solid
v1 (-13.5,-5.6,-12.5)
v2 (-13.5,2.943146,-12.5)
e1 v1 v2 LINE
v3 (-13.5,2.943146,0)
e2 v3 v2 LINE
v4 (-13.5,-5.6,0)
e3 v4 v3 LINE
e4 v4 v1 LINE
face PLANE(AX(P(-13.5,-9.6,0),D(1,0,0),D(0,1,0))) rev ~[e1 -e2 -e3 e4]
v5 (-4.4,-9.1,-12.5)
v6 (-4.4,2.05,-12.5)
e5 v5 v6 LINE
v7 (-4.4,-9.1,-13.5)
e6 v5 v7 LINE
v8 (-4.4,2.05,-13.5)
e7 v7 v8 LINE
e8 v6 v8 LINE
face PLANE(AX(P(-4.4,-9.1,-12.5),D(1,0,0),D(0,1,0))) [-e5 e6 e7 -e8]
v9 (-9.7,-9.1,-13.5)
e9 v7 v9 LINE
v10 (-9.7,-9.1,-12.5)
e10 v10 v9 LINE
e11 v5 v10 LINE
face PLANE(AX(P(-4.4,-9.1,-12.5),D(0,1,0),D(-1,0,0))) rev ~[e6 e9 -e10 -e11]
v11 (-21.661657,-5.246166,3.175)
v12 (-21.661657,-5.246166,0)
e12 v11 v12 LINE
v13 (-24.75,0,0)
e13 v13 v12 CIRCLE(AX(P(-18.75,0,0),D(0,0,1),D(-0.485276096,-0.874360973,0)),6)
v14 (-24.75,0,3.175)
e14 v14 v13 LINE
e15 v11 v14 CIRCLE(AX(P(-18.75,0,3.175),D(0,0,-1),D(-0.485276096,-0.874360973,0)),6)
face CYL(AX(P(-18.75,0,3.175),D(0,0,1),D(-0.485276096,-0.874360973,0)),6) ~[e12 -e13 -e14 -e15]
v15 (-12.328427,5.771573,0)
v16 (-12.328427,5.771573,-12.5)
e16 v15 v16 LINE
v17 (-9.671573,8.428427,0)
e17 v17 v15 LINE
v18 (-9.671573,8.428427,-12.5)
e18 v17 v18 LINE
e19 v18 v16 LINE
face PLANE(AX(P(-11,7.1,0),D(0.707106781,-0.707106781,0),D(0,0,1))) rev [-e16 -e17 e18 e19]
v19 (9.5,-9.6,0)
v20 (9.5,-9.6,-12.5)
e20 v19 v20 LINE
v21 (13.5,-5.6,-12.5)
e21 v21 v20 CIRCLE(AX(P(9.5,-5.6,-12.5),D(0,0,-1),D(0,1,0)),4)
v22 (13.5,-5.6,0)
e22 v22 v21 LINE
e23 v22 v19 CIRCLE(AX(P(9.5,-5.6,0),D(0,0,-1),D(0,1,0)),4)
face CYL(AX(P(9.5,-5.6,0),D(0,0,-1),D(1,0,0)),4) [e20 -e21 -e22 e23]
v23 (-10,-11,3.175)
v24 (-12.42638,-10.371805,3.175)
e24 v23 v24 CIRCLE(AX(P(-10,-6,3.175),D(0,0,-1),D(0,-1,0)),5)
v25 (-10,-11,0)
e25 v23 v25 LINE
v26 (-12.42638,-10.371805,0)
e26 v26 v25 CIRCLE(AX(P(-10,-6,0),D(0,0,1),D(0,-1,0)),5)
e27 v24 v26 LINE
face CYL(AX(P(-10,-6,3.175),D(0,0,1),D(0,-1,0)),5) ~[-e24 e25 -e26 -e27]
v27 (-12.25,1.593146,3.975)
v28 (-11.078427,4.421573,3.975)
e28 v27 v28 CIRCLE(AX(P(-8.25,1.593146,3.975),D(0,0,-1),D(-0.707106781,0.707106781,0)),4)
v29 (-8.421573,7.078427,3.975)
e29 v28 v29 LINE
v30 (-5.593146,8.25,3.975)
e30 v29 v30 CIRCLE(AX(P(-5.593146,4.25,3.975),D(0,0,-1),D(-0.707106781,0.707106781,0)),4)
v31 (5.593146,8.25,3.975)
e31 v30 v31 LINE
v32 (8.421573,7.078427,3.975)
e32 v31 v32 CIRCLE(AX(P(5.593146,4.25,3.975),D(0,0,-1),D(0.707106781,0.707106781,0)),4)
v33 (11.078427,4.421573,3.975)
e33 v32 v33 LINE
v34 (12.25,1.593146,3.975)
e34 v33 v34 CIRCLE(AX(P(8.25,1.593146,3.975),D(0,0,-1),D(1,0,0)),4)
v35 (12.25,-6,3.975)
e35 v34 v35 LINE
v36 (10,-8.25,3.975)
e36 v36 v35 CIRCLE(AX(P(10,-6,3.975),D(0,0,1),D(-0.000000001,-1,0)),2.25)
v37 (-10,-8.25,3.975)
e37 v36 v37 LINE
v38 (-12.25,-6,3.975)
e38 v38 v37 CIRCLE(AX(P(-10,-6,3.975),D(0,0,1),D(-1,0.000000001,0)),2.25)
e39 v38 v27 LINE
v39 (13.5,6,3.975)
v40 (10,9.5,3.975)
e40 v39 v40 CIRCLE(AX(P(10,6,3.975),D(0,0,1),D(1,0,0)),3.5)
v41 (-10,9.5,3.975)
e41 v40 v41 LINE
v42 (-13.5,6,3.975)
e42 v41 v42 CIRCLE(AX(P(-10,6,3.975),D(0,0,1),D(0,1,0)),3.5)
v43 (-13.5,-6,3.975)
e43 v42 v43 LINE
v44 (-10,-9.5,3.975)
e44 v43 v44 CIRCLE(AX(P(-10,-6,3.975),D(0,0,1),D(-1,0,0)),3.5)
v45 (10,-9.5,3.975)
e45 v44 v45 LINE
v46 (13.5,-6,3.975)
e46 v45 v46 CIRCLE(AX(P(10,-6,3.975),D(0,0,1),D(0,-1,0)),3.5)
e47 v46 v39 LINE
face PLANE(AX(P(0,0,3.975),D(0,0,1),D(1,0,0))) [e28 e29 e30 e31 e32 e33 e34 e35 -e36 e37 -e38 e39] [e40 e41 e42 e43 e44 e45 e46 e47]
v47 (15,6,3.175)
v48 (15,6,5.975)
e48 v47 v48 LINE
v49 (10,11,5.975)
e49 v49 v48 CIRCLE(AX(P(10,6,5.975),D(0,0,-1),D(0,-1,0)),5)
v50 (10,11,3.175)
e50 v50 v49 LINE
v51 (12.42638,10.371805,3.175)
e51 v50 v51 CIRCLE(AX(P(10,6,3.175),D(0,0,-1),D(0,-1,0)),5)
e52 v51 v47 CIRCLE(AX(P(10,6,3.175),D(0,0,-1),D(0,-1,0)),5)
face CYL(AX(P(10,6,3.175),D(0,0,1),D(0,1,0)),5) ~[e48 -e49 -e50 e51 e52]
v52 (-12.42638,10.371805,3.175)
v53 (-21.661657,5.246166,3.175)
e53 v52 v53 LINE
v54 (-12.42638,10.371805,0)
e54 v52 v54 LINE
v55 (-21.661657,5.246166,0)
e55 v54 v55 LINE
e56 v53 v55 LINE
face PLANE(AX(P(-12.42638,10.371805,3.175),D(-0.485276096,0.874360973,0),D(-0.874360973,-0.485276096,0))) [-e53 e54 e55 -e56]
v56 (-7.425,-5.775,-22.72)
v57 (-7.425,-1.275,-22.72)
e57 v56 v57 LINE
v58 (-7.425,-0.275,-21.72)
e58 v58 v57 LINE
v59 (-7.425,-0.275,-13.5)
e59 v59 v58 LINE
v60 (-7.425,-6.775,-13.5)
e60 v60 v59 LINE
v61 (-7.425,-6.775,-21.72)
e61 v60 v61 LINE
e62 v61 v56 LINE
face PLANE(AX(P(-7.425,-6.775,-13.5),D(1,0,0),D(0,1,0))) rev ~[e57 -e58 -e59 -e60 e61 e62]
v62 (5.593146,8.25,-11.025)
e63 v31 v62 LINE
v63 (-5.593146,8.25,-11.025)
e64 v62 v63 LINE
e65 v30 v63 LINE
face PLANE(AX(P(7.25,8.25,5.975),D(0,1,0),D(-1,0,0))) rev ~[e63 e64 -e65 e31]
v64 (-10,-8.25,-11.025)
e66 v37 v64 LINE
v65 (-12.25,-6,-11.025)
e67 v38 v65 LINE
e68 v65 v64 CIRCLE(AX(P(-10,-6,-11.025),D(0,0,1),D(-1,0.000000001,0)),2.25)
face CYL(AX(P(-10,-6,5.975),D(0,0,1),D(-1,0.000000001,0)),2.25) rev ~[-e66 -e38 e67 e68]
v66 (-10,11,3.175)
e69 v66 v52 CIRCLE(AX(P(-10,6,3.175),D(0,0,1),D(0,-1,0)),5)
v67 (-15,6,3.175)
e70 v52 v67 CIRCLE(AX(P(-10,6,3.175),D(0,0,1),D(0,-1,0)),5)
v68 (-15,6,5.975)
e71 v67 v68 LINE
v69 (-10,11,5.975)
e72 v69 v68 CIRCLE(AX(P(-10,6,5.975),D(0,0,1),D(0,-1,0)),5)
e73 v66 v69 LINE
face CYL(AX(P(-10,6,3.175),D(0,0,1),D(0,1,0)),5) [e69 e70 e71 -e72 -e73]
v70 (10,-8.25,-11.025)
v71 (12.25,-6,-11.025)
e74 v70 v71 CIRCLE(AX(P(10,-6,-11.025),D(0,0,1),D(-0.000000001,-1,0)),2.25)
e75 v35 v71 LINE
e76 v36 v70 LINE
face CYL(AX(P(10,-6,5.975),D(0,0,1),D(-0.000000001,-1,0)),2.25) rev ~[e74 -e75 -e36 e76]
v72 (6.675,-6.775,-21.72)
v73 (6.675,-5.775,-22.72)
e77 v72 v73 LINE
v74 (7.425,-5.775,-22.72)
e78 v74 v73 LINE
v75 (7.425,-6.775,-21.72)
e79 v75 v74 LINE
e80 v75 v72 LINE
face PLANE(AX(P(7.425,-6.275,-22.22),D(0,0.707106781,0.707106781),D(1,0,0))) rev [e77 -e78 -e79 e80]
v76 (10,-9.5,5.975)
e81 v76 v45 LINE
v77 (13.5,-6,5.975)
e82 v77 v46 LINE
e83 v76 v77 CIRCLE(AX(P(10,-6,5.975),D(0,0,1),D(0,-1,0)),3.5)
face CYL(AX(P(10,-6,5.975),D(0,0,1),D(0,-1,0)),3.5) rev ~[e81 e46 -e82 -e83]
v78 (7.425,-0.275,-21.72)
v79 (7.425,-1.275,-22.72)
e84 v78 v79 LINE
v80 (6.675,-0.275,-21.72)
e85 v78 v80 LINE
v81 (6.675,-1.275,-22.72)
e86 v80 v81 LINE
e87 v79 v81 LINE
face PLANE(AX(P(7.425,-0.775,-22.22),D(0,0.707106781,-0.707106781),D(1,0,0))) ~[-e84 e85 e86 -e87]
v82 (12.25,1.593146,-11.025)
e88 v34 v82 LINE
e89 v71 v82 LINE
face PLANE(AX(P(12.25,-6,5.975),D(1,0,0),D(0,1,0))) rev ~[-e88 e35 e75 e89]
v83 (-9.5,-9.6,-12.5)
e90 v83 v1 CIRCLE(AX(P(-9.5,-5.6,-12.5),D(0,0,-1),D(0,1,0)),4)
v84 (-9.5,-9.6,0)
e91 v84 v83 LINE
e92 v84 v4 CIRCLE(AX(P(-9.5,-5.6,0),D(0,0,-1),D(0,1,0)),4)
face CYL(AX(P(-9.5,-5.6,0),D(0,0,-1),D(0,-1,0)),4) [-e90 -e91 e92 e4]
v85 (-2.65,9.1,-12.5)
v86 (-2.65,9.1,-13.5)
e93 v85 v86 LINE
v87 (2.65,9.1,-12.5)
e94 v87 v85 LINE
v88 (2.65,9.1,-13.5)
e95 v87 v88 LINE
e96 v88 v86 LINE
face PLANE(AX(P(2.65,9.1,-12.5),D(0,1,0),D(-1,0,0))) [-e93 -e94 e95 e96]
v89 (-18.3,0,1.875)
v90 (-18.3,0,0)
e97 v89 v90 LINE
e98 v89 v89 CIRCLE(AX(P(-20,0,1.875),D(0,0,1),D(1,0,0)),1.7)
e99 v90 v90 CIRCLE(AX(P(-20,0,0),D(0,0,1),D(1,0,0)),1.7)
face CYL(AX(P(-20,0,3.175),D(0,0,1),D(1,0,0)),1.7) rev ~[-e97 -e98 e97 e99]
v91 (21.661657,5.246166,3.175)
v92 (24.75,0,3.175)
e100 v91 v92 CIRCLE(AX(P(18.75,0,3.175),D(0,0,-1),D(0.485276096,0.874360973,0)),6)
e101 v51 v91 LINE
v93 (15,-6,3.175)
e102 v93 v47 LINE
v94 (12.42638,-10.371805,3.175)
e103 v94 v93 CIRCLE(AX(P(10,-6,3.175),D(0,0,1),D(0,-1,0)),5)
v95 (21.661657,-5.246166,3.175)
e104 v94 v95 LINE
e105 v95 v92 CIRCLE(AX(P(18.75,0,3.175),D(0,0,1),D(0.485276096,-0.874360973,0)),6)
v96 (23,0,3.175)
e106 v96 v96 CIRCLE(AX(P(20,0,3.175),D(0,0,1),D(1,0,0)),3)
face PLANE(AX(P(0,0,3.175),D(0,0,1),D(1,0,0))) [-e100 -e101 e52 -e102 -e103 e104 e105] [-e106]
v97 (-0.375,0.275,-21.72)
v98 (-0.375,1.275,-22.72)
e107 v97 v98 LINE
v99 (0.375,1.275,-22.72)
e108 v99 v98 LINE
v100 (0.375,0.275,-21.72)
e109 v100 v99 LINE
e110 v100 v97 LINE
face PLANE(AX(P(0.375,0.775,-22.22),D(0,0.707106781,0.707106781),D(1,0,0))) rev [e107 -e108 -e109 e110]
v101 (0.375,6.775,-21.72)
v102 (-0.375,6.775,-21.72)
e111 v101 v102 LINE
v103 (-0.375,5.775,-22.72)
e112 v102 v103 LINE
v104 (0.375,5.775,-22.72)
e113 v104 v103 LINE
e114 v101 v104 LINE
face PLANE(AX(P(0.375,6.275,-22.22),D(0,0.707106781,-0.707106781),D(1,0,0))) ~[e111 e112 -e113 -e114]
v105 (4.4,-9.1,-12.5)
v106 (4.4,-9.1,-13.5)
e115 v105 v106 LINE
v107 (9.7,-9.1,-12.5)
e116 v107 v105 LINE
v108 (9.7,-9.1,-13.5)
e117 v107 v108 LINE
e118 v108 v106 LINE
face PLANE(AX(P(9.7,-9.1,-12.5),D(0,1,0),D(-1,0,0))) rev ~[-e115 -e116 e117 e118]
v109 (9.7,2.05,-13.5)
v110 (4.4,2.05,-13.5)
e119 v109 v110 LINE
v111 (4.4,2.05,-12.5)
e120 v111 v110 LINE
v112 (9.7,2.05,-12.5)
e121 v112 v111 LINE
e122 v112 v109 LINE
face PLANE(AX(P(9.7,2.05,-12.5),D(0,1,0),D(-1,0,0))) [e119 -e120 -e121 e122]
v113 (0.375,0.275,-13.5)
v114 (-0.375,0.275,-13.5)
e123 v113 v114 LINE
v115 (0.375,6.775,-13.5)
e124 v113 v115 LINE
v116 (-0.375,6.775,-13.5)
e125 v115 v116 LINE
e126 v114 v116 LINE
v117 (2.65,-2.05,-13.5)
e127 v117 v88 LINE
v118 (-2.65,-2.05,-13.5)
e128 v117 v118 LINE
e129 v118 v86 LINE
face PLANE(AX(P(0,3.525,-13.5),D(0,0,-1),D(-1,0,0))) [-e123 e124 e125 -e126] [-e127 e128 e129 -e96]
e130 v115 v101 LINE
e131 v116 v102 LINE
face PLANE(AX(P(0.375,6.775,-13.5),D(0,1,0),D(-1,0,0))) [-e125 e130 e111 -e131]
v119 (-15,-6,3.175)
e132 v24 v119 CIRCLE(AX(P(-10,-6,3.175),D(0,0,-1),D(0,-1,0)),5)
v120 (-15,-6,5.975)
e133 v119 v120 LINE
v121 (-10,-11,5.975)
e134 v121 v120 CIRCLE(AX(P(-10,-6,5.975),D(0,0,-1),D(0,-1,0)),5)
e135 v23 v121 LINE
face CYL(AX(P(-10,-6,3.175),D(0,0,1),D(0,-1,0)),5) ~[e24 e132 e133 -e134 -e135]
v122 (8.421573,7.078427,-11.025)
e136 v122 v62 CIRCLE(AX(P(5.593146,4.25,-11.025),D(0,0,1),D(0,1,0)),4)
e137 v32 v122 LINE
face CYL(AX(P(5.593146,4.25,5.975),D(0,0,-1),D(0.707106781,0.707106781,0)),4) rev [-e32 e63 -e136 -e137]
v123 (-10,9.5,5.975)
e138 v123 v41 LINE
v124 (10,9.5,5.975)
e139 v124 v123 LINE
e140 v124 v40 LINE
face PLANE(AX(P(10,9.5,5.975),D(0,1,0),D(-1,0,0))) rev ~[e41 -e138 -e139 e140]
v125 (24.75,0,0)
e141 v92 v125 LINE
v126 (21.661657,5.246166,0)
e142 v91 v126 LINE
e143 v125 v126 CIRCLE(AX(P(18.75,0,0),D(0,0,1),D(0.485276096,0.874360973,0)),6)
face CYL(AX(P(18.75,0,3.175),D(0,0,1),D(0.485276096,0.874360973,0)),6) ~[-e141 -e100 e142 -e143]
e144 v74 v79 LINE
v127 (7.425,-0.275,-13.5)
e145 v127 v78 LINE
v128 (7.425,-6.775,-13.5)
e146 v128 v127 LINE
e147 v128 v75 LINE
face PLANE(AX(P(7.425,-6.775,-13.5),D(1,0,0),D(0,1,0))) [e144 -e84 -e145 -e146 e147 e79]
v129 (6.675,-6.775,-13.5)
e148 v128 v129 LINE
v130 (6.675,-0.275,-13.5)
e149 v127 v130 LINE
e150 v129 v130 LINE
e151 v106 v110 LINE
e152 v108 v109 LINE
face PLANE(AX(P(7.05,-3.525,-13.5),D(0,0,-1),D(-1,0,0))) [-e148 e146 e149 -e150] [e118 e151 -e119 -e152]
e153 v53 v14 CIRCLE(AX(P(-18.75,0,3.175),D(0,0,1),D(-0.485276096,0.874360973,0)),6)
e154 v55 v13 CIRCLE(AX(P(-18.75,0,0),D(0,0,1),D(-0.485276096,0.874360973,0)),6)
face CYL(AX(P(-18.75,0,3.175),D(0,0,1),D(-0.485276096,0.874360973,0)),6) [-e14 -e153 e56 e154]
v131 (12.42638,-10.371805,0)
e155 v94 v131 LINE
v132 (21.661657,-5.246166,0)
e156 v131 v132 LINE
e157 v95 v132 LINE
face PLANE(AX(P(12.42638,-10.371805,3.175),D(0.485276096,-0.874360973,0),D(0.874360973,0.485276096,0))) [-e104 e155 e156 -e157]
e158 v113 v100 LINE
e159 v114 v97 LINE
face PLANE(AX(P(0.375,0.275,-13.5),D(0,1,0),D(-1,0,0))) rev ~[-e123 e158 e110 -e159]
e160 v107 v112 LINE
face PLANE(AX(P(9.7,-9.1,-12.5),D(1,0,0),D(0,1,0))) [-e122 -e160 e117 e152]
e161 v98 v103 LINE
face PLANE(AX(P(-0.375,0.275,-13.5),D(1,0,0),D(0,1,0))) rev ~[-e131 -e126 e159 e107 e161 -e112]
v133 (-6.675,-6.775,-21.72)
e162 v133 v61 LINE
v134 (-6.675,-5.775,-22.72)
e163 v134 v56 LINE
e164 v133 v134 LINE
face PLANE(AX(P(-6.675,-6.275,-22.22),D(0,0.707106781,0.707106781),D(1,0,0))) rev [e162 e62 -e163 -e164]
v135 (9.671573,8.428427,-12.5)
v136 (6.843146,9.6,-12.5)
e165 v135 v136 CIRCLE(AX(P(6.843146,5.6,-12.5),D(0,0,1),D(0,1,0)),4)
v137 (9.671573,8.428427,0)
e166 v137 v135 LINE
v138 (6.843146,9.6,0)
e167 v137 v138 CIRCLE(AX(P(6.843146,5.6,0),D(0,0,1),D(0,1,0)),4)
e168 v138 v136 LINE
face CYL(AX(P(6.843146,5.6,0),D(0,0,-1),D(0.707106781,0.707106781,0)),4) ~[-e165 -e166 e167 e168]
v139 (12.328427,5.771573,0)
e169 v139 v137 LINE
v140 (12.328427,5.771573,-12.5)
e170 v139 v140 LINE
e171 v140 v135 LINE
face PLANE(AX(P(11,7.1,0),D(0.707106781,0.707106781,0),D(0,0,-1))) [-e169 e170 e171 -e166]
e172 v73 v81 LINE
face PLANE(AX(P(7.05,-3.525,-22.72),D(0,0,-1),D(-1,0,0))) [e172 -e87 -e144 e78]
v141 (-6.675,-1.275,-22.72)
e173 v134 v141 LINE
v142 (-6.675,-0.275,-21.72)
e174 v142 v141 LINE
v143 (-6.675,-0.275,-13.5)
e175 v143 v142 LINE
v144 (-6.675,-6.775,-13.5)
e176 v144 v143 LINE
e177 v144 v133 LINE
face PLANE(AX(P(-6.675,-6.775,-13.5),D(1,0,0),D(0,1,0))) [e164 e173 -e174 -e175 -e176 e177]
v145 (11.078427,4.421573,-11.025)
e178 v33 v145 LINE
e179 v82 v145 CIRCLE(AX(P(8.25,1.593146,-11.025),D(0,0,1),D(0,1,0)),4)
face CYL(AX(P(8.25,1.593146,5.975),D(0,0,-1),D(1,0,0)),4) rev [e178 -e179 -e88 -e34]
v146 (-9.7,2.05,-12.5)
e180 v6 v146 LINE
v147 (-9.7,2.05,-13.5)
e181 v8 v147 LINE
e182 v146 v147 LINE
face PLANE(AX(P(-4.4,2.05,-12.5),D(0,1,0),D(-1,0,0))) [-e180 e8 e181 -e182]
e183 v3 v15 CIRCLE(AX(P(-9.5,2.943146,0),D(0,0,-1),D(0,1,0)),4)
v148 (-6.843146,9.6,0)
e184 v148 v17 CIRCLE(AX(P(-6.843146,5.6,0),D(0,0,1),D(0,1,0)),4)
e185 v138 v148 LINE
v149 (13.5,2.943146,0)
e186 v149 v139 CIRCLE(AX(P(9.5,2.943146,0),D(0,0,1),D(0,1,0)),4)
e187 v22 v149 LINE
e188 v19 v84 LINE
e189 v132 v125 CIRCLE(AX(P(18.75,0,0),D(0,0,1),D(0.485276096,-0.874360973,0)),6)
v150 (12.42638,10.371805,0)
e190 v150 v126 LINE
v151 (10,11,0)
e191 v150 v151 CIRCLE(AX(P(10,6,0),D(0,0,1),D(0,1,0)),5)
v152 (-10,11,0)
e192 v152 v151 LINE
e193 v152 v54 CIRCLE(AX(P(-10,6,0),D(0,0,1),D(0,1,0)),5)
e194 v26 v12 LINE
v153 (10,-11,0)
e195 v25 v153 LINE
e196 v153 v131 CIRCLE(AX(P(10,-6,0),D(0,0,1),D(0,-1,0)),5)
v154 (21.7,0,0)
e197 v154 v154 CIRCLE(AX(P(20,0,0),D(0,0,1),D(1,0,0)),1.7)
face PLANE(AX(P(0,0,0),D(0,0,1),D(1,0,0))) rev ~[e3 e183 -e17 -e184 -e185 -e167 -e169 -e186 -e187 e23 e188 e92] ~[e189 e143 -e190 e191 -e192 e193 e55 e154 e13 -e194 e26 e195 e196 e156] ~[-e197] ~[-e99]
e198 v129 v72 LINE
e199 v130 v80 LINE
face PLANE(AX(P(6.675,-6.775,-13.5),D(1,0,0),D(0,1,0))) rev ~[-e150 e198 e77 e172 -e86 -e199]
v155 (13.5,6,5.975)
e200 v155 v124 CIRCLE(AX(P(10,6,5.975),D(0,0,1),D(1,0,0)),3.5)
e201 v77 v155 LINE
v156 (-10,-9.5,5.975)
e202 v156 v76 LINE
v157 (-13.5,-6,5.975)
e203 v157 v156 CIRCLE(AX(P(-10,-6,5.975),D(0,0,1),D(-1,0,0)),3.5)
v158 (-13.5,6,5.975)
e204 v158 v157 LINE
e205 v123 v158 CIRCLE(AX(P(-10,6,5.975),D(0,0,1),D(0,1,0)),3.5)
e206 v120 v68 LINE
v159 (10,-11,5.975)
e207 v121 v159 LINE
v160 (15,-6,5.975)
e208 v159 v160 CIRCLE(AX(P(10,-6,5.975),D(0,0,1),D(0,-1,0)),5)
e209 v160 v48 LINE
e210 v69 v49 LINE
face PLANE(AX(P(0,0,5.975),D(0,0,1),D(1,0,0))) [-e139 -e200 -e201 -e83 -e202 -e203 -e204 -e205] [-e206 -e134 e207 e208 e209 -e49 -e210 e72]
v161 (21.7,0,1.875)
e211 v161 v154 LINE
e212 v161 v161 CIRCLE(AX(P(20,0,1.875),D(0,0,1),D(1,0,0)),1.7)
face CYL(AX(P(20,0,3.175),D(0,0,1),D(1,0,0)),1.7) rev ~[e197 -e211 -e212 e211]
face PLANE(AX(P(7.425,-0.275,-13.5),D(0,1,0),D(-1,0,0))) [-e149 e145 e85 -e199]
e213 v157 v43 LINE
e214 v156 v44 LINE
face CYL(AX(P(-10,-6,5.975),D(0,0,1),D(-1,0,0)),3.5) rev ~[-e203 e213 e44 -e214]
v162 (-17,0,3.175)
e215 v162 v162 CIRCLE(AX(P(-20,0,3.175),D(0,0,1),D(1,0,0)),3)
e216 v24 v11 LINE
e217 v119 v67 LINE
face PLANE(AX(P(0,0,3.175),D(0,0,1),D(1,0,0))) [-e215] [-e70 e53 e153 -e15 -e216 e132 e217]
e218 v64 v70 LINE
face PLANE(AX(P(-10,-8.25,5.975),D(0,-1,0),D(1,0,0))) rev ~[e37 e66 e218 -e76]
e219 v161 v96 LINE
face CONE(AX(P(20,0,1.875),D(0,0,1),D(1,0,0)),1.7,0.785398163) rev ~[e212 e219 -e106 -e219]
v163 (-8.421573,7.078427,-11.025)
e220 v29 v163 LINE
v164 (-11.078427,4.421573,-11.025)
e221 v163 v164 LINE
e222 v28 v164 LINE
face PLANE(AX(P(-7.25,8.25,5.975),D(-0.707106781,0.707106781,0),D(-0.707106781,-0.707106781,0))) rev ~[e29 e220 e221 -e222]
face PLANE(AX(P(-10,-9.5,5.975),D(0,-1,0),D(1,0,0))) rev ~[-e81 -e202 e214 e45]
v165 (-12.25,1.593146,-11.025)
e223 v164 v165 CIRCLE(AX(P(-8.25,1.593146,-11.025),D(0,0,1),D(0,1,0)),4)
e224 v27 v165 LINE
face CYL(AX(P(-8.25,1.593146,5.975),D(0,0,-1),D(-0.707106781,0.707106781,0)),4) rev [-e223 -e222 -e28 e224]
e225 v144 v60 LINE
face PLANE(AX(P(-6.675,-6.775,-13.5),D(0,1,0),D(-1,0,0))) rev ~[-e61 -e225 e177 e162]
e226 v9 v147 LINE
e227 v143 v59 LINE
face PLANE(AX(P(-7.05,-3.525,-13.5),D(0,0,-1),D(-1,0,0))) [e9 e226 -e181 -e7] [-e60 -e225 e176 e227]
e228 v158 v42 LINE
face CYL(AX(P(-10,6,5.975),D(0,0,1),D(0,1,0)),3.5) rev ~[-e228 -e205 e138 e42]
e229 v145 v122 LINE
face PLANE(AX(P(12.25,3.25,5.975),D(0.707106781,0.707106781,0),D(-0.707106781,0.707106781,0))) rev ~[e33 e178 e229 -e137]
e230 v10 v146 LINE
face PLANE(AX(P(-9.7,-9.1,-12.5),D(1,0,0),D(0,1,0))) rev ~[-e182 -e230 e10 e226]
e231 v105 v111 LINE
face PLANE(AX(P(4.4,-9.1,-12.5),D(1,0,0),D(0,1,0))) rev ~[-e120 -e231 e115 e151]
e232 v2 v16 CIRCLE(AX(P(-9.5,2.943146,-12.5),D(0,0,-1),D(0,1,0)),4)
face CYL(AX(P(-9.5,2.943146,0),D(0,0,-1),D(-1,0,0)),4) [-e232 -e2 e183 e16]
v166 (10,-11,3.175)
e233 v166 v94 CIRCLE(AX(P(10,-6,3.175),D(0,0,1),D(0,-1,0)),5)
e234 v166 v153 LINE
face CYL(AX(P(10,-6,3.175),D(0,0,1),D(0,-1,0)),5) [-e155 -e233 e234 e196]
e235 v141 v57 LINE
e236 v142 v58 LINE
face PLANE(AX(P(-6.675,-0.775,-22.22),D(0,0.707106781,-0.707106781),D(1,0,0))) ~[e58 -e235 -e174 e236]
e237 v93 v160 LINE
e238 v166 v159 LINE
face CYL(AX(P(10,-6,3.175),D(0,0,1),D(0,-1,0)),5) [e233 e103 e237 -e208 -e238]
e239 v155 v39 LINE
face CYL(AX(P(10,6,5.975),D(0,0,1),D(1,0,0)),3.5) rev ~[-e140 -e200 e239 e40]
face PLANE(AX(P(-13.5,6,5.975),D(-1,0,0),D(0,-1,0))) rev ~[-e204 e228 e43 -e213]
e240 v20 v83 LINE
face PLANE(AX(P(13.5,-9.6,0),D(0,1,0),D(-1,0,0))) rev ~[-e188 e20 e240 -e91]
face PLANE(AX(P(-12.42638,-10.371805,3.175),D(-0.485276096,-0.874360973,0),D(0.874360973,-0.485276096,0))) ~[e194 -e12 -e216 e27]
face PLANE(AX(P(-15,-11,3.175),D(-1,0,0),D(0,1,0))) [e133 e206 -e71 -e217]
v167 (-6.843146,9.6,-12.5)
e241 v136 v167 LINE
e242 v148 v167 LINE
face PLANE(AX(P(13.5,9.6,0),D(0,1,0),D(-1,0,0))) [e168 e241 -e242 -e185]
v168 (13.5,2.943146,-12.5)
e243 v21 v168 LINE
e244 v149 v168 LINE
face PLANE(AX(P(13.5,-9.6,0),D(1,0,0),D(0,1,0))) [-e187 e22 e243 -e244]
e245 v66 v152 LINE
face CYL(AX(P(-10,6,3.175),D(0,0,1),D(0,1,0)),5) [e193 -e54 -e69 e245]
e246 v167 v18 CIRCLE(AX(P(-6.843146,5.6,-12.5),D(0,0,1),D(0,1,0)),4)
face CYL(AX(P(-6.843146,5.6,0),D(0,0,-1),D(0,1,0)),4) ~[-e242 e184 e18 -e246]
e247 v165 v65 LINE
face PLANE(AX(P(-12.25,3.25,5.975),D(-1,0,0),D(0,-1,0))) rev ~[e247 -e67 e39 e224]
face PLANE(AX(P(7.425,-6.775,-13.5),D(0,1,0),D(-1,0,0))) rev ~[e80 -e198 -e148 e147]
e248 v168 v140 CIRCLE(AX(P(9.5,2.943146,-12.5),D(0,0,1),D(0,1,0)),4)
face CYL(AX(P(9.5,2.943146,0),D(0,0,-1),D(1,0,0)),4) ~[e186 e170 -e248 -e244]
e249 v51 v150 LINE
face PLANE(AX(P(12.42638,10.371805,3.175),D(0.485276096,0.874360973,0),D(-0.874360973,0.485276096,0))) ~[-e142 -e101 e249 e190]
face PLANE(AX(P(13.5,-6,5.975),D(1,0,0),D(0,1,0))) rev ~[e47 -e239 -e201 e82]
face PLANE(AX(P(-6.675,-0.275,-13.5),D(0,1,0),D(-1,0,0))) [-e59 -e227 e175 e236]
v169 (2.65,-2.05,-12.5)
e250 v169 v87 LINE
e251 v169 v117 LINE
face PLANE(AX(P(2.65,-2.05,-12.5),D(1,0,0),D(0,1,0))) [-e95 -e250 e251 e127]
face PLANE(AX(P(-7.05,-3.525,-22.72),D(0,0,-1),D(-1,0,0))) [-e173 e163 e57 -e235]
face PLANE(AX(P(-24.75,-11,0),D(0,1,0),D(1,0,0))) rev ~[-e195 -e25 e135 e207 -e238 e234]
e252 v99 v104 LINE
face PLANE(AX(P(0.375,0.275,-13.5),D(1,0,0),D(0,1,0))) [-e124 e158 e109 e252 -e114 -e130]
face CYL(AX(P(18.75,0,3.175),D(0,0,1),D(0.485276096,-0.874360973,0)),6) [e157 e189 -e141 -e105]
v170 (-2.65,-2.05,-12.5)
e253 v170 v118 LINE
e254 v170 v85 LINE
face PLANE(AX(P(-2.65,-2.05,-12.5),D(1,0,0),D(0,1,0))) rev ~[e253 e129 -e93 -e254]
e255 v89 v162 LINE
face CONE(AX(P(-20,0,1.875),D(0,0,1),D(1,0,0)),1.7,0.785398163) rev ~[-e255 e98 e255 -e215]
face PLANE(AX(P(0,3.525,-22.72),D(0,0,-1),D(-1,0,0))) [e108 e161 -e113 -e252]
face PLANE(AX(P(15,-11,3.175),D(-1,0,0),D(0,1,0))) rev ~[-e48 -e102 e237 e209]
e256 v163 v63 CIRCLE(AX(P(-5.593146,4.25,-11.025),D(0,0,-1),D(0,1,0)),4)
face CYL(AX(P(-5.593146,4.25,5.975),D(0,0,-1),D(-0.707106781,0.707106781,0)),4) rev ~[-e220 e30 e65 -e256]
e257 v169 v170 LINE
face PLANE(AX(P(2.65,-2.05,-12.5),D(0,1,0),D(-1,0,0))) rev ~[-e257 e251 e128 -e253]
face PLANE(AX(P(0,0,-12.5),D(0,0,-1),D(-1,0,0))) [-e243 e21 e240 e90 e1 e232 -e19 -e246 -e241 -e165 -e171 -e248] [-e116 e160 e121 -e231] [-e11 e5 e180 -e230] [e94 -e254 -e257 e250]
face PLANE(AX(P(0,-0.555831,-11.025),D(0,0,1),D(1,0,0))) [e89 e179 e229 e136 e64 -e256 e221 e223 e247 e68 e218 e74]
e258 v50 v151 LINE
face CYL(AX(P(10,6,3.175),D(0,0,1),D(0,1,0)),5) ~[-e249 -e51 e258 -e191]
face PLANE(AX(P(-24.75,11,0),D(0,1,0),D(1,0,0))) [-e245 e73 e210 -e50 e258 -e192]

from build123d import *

# Parameters (mm, degrees)
SKETCH1_W            = 49.5
SKETCH1_H            = 22
BOSS_EXTRUDE1_DEPTH  = 3.175
SKETCH2_W            = 30
SKETCH2_H            = 22
BOSS_EXTRUDE2_DEPTH  = 2.8
FILLET1_R            = 5
SKETCH4_W            = 27
SKETCH4_H            = 19.2
BOSS_EXTRUDE3_DEPTH  = 12.5
CHAMFER1_SIZE        = 5
FILLET2_R            = 4
SKETCH3_R            = 1.7
CUT_EXTRUDE1_DEPTH   = 16.675
CUT_EXTRUDE2_DEPTH   = 16.2
MIRROR2_COPY_1_DEPTH = 16.2
CHAMFER2_SIZE        = 1.3
CUT_EXTRUDE4_DEPTH   = 17
FILLET3_R            = 4
SKETCH9_W            = 5.3
SKETCH9_H            = 11.15
BOSS_EXTRUDE4_DEPTH  = 1
SKETCH10_W           = 0.75
SKETCH10_H           = 6.5
BOSS_EXTRUDE5_DEPTH  = 9.22
CHAMFER3_SIZE        = 1
CUT_EXTRUDE3_DEPTH   = 2


with BuildPart() as part:
    # Sketch1 → Boss-Extrude1 (new body)
    with BuildSketch(Plane.XY):
        Rectangle(SKETCH1_W, SKETCH1_H)
    extrude(amount=BOSS_EXTRUDE1_DEPTH)

    # Sketch2 → Boss-Extrude2 (add)
    with BuildSketch(Plane.XY.offset(3.175)):
        Rectangle(SKETCH2_W, SKETCH2_H)
    extrude(amount=BOSS_EXTRUDE2_DEPTH)

    # Fillet1
    fillet1_edges = [part.edges().sort_by_distance(p)[0] for p in [
        (-15, 11, 4.575),
        (15, 11, 4.575),
        (15, -11, 4.575),
        (-15, -11, 4.575),
    ]]
    fillet(fillet1_edges, radius=FILLET1_R)

    # Sketch4 → Boss-Extrude3 (add)
    with BuildSketch(Plane(origin=(0, 0, 0), x_dir=(-1, 0, 0), z_dir=(0, 0, -1))):
        Rectangle(SKETCH4_W, SKETCH4_H)
    extrude(amount=BOSS_EXTRUDE3_DEPTH)

    # Chamfer1
    chamfer1_edges = [part.edges().sort_by_distance(p)[0] for p in [
        (13.5, 9.6, -6.25),
        (-13.5, 9.6, -6.25),
    ]]
    chamfer(chamfer1_edges, length=CHAMFER1_SIZE)

    # Fillet2
    fillet2_edges = [part.edges().sort_by_distance(p)[0] for p in [
        (13.5, -9.6, -6.25),
        (-13.5, -9.6, -6.25),
        (8.5, 9.6, -6.25),
        (-8.5, 9.6, -6.25),
        (-13.5, 4.6, -6.25),
        (13.5, 4.6, -6.25),
    ]]
    fillet(fillet2_edges, radius=FILLET2_R)

    # Sketch3 → Cut-Extrude1 (cut, through all)
    with BuildSketch(Plane.XY.offset(3.175)):
        with Locations((-20, 0)):
            Circle(SKETCH3_R)
        with Locations((20, 0)):
            Circle(SKETCH3_R)
    extrude(amount=-CUT_EXTRUDE1_DEPTH, mode=Mode.SUBTRACT)

    # Sketch5 → Cut-Extrude2 (cut)
    with BuildSketch(Plane.XY.offset(3.175)):
        with BuildLine():
            Line((-12.426380479, 10.371804865), (-21.661656574, 5.246165837))
            ThreePointArc((-21.661656574, 5.246165837), (-23.92058698, 3.043851225), (-24.75, 0))
            Line((-24.75, 0), (-24.75, 11))
            Line((-24.75, 11), (-10, 11))
            ThreePointArc((-10, 11), (-11.253191062, 10.840404132), (-12.426380479, 10.371804865))
        make_face()
    cut_extrude2 = extrude(amount=-CUT_EXTRUDE2_DEPTH, mode=Mode.SUBTRACT)

    # Mirror1: Cut-Extrude2 across plane
    add(cut_extrude2.mirror(Plane.ZX), mode=Mode.SUBTRACT)

    # Mirror2: Cut-Extrude2 across plane
    add(cut_extrude2.mirror(Plane(origin=(0, 0, 0), x_dir=(0, 0, 1), z_dir=(1, 0, 0))), mode=Mode.SUBTRACT)

    # Mirror2 copy 1 sketch → Mirror2 copy 1 (cut)
    with BuildSketch(Plane(origin=(0, 0, 3.175), x_dir=(-1, 0, 0), z_dir=(0, 0, 1))):
        with BuildLine():
            Line((-12.426380479, 10.371804865), (-21.661656574, 5.246165837))
            ThreePointArc((-21.661656574, 5.246165837), (-23.92058698, 3.043851225), (-24.75, 0))
            Line((-24.75, 0), (-24.75, 11))
            Line((-24.75, 11), (-10, 11))
            ThreePointArc((-10, 11), (-11.253191062, 10.840404132), (-12.426380479, 10.371804865))
        make_face()
    extrude(amount=-MIRROR2_COPY_1_DEPTH, mode=Mode.SUBTRACT)

    # Chamfer2
    chamfer2_edges = [part.edges().sort_by_distance(p)[0] for p in [
        (-21.7, 0, 3.175),
        (18.3, 0, 3.175),
    ]]
    chamfer(chamfer2_edges, length=CHAMFER2_SIZE)

    # Sketch8 → Cut-Extrude4 (cut)
    with BuildSketch(Plane.XY.offset(5.975)):
        with BuildLine():
            Line((-7.25, 8.25), (-12.25, 3.25))
            Line((-12.25, 3.25), (-12.25, -6))
            ThreePointArc((-12.25, -6), (-11.590990258, -7.590990258), (-10, -8.25))
            Line((-10, -8.25), (10, -8.25))
            ThreePointArc((10, -8.25), (11.590990258, -7.590990258), (12.25, -6))
            Line((12.25, -6), (12.25, 3.25))
            Line((12.25, 3.25), (7.25, 8.25))
            Line((7.25, 8.25), (-7.25, 8.25))
        make_face()
    extrude(amount=-CUT_EXTRUDE4_DEPTH, mode=Mode.SUBTRACT)

    # Fillet3
    fillet3_edges = [part.edges().sort_by_distance(p)[0] for p in [
        (-7.25, 8.25, -2.525),
        (7.25, 8.25, -2.525),
        (12.25, 3.25, -2.525),
        (-12.25, 3.25, -2.525),
    ]]
    fillet(fillet3_edges, radius=FILLET3_R)

    # Sketch9 → Boss-Extrude4 (add)
    with BuildSketch(Plane(origin=(0, 0, -12.5), x_dir=(-1, 0, 0), z_dir=(0, 0, -1))):
        with Locations((0, 3.525)):
            Rectangle(SKETCH9_W, SKETCH9_H)
        with Locations((-7.05, -3.525)):
            Rectangle(SKETCH9_W, SKETCH9_H)
        with Locations((7.05, -3.525)):
            Rectangle(SKETCH9_W, SKETCH9_H)
    extrude(amount=BOSS_EXTRUDE4_DEPTH)

    # Sketch10 → Boss-Extrude5 (add)
    with BuildSketch(Plane(origin=(0, 0, -13.5), x_dir=(-1, 0, 0), z_dir=(0, 0, -1))):
        with Locations((0, 3.525)):
            Rectangle(SKETCH10_W, SKETCH10_H)
        with Locations((-7.05, -3.525)):
            Rectangle(SKETCH10_W, SKETCH10_H)
        with Locations((7.05, -3.525)):
            Rectangle(SKETCH10_W, SKETCH10_H)
    extrude(amount=BOSS_EXTRUDE5_DEPTH)

    # Chamfer3
    chamfer3_edges = [part.edges().sort_by_distance(p)[0] for p in [
        (0, 0.275, -22.72),
        (0, 6.775, -22.72),
        (7.05, -6.775, -22.72),
        (7.05, -0.275, -22.72),
        (-7.05, -6.775, -22.72),
        (-7.05, -0.275, -22.72),
    ]]
    chamfer(chamfer3_edges, length=CHAMFER3_SIZE)

    # Sketch6 → Cut-Extrude3 (cut)
    with BuildSketch(Plane.XY.offset(5.975)):
        with BuildLine():
            Line((-13.5, 6), (-13.5, -6))
            ThreePointArc((-13.5, -6), (-12.474873734, -8.474873734), (-10, -9.5))
            Line((-10, -9.5), (10, -9.5))
            ThreePointArc((10, -9.5), (12.474873734, -8.474873734), (13.5, -6))
            Line((13.5, -6), (13.5, 6))
            ThreePointArc((13.5, 6), (12.474873734, 8.474873734), (10, 9.5))
            Line((10, 9.5), (-10, 9.5))
            ThreePointArc((-10, 9.5), (-12.474873734, 8.474873734), (-13.5, 6))
        make_face()
    extrude(amount=-CUT_EXTRUDE3_DEPTH, mode=Mode.SUBTRACT)


solid = part.part
